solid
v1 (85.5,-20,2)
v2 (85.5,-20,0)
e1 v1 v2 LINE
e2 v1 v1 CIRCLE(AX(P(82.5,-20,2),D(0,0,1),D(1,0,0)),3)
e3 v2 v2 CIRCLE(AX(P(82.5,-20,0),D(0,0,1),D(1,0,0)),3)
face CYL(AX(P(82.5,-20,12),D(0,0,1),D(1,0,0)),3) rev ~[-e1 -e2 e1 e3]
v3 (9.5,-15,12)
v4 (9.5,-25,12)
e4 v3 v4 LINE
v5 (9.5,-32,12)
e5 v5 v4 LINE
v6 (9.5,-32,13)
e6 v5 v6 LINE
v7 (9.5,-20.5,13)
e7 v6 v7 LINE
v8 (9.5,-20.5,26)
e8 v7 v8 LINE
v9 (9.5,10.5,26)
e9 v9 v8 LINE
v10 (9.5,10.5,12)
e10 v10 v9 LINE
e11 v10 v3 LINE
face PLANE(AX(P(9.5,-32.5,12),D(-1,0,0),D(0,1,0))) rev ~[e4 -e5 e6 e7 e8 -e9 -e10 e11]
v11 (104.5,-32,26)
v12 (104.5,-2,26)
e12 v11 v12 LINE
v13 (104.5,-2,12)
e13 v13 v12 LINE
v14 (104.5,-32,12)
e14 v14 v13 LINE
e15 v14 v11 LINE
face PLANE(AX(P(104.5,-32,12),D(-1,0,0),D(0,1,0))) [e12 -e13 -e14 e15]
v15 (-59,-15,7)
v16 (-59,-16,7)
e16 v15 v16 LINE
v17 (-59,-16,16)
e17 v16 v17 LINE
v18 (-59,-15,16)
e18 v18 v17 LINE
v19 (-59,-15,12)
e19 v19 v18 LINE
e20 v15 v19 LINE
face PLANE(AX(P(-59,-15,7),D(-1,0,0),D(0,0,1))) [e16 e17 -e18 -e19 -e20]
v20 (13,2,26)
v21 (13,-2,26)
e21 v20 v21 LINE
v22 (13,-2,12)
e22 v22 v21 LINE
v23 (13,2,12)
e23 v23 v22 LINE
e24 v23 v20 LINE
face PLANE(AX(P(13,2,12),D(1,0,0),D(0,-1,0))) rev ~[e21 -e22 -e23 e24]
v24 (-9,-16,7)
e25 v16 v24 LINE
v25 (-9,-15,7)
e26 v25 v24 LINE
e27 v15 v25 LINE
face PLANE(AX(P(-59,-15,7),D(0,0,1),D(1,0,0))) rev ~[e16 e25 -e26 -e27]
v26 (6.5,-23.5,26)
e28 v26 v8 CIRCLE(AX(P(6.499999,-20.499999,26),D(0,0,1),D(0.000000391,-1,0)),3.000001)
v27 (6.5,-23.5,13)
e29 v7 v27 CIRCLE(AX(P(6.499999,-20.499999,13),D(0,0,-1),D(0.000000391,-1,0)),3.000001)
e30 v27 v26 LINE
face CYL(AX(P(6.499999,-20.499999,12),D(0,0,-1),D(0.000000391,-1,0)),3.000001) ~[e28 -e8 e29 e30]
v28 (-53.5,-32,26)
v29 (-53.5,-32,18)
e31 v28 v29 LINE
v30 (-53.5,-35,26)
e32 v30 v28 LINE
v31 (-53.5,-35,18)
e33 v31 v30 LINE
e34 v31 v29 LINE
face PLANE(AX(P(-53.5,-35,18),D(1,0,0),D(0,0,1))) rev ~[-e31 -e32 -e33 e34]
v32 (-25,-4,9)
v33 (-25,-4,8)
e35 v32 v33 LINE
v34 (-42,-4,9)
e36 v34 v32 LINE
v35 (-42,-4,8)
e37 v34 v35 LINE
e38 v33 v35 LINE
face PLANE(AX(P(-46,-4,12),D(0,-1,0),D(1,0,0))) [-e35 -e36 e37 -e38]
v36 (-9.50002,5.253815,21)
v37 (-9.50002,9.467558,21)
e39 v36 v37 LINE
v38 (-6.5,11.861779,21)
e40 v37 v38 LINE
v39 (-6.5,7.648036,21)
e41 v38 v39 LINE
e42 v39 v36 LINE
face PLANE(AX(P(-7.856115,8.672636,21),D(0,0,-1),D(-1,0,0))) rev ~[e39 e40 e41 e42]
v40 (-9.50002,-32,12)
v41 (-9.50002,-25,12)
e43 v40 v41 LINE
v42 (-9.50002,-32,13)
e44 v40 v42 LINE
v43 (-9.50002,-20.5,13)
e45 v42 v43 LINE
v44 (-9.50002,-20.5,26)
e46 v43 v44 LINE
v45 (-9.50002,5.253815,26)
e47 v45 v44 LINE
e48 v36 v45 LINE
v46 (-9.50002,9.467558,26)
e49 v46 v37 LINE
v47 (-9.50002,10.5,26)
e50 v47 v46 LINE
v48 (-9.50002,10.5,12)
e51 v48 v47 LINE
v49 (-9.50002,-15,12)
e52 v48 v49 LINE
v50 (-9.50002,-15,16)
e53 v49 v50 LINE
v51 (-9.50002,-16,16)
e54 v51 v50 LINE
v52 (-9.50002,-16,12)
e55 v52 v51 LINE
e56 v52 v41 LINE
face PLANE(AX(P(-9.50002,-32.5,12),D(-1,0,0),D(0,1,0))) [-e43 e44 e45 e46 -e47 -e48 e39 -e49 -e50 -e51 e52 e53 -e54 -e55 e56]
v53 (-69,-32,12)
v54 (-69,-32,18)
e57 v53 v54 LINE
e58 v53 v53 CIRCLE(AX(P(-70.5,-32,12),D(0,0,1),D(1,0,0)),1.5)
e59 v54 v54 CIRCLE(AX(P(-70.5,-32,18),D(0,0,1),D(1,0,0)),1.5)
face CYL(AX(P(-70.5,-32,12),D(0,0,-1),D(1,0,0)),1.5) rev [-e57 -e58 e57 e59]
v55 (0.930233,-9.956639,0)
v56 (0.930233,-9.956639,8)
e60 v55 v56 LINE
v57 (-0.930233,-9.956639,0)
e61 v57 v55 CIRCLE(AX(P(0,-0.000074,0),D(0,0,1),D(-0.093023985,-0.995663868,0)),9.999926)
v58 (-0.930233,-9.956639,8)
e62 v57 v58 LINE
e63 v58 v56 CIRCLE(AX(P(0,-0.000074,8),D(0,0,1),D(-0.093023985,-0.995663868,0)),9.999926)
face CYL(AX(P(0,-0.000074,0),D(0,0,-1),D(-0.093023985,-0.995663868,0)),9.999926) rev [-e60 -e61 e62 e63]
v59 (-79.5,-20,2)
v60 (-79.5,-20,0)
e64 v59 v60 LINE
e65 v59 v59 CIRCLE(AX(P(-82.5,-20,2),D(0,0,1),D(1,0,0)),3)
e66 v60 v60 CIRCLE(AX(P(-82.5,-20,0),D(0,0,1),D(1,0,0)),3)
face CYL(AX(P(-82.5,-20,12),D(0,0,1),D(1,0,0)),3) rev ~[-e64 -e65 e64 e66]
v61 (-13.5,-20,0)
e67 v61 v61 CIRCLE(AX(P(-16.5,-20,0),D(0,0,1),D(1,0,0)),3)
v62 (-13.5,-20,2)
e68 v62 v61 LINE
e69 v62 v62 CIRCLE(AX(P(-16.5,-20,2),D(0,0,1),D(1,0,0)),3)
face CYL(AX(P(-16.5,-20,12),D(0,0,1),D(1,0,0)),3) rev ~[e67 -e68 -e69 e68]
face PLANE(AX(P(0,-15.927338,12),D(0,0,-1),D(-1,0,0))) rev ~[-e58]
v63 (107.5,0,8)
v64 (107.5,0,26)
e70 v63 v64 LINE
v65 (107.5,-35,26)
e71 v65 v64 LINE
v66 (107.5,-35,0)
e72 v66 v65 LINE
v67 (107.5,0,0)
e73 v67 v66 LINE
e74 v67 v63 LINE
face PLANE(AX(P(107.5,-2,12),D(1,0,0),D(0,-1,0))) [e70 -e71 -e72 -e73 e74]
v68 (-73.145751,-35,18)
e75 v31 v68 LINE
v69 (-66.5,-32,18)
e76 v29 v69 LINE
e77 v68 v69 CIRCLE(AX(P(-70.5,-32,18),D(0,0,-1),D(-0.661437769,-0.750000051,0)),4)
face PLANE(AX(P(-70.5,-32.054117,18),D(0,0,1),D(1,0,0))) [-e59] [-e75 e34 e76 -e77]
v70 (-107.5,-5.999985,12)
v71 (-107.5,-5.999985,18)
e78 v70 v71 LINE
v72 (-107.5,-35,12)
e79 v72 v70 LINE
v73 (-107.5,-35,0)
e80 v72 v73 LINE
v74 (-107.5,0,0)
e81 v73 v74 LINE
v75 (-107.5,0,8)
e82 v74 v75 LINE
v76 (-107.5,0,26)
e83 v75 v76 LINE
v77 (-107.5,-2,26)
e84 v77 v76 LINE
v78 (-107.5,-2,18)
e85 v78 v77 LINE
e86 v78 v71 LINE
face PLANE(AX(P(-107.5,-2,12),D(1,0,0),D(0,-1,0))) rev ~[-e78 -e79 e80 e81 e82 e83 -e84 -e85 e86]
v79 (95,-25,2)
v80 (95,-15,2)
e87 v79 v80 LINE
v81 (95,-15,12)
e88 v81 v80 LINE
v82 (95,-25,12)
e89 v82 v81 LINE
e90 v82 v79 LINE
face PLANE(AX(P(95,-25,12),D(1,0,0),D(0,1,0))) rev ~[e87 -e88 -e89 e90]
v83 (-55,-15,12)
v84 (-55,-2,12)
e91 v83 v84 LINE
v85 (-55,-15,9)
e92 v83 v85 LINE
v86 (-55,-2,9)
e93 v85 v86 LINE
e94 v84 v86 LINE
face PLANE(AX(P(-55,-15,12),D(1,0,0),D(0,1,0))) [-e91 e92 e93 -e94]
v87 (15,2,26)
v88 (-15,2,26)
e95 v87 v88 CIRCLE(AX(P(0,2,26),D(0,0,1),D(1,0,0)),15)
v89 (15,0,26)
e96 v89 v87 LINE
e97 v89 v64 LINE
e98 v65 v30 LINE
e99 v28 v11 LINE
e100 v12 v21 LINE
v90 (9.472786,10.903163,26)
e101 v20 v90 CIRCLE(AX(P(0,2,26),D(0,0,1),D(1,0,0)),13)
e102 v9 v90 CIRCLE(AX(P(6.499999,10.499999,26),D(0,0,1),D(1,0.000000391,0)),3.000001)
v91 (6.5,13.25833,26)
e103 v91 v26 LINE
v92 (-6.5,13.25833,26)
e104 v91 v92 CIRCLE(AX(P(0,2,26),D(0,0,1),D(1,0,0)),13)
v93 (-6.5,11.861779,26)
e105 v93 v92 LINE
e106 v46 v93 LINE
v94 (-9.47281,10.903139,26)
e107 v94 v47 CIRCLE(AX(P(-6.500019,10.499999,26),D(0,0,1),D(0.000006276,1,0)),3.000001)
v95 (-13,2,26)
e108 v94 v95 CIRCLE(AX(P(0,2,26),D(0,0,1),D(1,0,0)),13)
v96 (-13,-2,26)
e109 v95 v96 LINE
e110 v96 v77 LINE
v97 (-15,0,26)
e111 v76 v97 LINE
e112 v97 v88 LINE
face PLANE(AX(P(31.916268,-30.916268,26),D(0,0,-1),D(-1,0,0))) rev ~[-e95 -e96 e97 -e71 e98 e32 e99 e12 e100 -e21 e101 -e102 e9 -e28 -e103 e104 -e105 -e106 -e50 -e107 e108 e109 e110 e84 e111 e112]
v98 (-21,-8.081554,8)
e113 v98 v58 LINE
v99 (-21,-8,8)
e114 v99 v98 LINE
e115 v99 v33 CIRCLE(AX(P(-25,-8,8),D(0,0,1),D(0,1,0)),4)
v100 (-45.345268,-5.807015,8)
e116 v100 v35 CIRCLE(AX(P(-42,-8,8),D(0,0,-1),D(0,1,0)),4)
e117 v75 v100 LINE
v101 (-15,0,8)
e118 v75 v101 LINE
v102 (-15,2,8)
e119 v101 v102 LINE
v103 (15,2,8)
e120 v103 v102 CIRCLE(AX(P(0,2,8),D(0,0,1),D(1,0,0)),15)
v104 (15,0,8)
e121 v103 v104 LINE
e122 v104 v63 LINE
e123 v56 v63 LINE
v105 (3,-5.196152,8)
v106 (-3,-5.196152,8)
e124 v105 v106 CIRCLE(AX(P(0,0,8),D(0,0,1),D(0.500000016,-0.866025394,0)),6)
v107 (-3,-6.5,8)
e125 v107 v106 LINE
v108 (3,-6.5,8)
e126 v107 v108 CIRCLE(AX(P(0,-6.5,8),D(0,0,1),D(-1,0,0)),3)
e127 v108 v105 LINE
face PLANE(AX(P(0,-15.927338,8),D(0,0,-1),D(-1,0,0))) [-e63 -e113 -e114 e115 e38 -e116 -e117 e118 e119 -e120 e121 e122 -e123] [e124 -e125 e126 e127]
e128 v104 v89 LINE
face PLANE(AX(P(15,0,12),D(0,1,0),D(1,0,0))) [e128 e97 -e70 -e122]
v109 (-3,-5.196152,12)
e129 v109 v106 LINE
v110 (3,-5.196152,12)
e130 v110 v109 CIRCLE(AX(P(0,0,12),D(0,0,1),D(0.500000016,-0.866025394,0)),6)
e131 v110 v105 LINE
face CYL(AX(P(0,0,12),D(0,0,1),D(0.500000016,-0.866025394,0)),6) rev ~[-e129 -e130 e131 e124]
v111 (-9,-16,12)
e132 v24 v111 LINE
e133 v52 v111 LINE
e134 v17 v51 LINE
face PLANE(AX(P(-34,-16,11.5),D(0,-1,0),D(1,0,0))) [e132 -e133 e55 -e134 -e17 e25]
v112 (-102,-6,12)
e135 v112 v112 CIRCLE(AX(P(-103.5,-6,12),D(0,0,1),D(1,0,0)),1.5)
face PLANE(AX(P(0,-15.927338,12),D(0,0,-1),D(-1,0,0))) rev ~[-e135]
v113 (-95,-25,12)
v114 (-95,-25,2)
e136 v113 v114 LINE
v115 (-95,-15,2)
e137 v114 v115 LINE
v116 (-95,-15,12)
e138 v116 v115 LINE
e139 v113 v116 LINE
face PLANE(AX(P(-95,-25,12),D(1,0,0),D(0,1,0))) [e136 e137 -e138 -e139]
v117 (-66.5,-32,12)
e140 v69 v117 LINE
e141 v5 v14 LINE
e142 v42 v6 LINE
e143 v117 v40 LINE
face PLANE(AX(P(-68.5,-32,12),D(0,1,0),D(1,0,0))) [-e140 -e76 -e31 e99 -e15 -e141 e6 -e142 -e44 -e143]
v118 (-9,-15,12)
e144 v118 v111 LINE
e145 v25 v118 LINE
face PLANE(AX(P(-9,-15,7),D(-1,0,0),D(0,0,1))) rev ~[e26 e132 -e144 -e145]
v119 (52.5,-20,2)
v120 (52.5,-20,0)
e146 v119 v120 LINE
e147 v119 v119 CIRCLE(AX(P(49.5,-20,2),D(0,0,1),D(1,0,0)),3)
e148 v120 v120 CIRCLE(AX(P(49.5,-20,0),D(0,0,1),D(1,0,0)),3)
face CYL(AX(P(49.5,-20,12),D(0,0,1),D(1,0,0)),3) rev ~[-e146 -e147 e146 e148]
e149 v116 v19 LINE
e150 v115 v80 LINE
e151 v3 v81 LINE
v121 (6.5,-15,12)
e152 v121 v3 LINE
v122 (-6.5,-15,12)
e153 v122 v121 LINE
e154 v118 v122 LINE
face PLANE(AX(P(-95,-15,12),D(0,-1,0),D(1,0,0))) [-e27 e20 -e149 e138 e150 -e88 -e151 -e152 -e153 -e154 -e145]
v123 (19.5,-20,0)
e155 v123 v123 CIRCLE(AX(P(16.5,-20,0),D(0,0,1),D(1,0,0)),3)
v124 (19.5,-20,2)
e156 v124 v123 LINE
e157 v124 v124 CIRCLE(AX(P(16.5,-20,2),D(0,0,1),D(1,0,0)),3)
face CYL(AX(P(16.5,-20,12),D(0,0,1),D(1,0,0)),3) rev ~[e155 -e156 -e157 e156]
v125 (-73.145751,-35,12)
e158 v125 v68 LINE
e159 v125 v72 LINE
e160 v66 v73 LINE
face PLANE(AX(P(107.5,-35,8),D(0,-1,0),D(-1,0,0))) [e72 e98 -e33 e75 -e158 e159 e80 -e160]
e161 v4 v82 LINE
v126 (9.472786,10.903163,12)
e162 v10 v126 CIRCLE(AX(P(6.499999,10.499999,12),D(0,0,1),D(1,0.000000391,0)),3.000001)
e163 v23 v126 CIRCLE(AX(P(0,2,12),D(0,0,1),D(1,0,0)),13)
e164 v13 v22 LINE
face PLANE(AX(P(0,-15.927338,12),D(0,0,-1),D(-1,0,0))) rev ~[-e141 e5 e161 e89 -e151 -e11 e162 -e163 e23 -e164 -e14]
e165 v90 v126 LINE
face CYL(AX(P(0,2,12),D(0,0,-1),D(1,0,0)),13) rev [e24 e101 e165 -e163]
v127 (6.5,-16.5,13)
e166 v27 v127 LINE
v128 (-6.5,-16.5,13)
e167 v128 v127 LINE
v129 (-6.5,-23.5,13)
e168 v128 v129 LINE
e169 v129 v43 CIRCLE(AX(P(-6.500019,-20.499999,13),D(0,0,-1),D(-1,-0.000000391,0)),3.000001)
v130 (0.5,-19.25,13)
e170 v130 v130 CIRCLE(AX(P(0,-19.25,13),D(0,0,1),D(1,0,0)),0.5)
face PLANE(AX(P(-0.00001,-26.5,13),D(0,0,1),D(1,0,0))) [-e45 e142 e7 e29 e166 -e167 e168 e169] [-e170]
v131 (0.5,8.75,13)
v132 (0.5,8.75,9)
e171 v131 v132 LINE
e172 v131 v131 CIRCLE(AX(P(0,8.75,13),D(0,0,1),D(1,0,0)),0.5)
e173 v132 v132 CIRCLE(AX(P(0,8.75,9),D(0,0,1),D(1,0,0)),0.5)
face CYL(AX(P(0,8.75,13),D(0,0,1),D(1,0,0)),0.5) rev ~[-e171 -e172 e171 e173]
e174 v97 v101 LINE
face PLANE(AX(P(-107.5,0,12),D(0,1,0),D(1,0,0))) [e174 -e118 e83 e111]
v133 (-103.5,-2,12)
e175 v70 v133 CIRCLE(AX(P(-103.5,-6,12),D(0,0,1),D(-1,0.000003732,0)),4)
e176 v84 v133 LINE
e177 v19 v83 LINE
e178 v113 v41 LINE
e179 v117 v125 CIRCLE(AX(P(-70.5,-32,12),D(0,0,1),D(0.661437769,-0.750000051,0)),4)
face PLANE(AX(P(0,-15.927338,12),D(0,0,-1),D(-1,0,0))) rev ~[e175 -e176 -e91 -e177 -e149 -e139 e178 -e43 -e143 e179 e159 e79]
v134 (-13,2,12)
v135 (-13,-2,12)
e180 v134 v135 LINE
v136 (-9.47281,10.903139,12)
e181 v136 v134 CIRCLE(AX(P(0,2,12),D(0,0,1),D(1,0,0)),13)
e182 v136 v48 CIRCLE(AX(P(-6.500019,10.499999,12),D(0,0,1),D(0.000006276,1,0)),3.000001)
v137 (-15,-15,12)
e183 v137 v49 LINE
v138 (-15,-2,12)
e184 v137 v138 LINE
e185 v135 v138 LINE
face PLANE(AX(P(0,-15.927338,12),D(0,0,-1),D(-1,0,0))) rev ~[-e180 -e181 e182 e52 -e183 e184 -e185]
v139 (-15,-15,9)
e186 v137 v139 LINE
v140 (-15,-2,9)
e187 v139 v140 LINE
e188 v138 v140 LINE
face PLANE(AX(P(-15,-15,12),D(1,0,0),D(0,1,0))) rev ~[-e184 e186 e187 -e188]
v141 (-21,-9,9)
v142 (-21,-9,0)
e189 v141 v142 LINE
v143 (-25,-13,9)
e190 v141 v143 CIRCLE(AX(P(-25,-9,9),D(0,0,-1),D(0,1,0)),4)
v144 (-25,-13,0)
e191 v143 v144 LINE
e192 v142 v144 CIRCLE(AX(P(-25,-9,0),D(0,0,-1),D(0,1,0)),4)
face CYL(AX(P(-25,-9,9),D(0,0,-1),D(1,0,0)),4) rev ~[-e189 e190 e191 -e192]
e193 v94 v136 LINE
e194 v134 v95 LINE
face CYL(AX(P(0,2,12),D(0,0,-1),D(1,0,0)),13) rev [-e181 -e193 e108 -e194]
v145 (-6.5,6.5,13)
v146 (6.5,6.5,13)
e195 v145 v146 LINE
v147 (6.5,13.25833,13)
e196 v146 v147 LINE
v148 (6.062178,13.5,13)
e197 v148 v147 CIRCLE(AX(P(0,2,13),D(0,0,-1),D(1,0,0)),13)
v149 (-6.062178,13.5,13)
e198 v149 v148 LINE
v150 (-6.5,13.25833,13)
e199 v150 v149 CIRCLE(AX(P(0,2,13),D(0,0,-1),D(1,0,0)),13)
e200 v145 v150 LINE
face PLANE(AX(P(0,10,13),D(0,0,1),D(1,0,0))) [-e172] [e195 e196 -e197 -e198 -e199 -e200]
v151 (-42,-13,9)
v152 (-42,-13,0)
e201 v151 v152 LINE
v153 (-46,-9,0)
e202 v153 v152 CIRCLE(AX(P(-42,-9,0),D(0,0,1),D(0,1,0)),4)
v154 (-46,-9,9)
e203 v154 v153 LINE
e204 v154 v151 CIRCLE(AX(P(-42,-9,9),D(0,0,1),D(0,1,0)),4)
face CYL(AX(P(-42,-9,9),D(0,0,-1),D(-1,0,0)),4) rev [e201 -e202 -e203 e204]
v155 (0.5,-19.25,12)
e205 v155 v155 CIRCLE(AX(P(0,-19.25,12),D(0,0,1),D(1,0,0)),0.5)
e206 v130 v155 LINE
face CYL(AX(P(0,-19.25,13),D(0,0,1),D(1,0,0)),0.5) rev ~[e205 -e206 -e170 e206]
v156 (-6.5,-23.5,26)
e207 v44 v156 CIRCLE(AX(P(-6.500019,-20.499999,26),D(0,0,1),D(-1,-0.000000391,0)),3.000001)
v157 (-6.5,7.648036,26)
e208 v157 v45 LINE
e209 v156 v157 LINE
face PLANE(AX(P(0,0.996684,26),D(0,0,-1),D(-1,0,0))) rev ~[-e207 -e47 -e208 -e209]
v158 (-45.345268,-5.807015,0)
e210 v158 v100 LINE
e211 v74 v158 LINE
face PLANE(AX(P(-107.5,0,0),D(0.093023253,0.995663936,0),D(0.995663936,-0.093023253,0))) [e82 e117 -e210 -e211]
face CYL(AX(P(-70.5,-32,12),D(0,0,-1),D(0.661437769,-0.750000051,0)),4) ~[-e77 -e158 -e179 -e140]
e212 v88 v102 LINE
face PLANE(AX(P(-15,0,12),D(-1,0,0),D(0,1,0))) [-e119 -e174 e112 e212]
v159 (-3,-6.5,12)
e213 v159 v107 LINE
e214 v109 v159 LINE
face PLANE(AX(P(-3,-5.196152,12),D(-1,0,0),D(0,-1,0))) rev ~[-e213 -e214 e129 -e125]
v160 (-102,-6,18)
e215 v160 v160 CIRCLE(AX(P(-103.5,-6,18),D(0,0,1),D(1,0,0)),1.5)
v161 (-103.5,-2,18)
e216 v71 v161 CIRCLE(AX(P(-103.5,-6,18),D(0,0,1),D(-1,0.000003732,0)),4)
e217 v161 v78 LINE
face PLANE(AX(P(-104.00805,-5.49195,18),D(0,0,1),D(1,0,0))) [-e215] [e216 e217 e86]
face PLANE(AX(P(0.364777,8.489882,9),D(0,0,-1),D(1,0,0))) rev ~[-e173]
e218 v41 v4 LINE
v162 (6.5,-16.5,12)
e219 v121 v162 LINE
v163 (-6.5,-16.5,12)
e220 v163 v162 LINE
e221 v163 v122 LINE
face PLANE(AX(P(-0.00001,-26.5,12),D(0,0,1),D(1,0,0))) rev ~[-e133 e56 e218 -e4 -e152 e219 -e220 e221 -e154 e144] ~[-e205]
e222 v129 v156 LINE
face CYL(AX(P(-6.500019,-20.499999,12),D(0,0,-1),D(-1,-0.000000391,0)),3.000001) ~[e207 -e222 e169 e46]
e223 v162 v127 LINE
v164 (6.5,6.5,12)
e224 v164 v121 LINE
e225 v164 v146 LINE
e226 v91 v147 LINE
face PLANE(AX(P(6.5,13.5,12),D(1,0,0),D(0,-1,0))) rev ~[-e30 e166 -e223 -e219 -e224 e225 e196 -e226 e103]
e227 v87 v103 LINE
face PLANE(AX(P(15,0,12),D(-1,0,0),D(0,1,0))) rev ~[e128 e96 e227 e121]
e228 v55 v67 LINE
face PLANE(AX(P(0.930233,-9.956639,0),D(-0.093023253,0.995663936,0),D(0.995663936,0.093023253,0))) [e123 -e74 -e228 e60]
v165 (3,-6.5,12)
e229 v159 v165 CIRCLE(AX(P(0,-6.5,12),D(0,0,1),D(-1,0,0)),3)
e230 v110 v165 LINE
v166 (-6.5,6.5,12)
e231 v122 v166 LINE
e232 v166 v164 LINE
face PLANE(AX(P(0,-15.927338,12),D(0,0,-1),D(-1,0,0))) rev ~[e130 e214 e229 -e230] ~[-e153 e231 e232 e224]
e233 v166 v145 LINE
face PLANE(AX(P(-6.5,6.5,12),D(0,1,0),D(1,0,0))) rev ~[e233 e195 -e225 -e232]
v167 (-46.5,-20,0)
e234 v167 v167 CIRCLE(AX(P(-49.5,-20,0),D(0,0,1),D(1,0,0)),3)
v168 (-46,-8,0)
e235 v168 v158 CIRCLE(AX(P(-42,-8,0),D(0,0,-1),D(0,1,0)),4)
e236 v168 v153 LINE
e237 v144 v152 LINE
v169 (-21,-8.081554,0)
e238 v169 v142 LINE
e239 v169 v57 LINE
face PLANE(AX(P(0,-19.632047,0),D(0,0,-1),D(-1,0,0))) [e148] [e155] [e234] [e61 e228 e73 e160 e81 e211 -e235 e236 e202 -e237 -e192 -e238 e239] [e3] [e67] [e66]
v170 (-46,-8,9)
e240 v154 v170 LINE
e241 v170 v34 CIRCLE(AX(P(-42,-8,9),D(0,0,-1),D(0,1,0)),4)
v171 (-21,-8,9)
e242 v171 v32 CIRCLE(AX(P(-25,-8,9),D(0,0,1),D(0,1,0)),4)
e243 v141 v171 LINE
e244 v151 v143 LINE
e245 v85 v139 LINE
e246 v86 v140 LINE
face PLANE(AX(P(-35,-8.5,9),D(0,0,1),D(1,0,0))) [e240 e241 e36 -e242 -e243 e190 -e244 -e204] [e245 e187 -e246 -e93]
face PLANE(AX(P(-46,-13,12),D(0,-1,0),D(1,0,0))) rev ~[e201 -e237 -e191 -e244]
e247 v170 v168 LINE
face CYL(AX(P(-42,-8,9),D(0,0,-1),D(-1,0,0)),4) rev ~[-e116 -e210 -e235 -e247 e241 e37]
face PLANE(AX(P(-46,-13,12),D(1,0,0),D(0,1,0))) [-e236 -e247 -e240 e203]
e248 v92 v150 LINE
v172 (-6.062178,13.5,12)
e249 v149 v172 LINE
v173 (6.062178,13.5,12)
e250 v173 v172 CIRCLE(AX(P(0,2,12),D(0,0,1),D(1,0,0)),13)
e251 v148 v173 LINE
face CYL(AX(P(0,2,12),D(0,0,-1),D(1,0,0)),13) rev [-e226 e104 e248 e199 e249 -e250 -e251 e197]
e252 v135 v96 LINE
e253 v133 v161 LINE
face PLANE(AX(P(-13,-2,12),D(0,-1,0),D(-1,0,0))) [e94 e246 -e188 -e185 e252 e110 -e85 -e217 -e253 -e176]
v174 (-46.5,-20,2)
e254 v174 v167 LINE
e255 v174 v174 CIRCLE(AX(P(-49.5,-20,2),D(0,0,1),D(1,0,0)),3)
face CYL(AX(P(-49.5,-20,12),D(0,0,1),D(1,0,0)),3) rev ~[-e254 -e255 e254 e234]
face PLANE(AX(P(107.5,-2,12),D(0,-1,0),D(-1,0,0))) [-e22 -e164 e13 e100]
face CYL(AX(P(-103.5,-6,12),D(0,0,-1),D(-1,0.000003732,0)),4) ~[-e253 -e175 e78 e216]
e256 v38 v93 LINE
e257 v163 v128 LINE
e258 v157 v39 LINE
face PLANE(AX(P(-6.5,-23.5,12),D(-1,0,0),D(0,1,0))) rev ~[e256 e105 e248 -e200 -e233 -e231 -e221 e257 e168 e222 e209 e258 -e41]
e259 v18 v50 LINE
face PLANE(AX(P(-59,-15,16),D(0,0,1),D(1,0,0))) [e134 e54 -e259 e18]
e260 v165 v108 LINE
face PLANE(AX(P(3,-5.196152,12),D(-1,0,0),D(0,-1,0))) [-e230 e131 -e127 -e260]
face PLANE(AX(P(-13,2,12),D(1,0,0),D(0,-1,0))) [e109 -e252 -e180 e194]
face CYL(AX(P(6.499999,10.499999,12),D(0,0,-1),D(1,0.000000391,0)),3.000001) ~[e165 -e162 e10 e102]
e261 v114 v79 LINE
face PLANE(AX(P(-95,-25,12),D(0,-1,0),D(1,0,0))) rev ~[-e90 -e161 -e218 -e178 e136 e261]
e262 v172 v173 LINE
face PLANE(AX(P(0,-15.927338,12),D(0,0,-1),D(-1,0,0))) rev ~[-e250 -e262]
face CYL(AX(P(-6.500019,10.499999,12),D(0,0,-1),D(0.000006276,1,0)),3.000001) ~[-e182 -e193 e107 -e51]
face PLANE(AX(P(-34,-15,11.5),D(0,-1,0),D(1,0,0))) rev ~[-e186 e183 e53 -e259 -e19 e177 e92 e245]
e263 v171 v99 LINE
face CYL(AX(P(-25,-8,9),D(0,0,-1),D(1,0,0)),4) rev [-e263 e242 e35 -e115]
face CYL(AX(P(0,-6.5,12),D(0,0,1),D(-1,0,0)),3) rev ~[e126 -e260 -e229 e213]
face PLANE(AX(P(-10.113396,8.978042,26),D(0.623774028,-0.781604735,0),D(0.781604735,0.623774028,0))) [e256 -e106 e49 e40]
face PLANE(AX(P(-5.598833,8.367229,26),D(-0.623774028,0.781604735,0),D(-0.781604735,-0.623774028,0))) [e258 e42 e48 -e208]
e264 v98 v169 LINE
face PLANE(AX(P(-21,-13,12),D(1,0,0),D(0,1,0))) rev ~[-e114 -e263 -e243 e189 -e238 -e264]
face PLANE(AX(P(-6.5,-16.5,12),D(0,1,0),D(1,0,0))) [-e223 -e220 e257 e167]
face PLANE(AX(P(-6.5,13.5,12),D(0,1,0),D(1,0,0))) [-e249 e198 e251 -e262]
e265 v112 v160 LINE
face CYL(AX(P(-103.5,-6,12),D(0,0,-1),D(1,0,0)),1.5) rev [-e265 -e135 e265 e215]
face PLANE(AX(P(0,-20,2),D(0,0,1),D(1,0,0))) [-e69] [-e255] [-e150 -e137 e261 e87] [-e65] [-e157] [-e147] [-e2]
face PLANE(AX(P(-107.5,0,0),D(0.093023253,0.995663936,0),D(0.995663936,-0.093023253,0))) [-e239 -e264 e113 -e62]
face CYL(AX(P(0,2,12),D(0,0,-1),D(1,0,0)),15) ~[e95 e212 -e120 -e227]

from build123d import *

# Parameters (mm, degrees)
PAD_DEPTH       = 8
PAD001_DEPTH    = 4
POCKET_DEPTH    = 5
SKETCH003_W     = 13
SKETCH003_H     = 7
PAD002_DEPTH    = 1
SKETCH004_R     = 0.5
POCKET001_DEPTH = 13.001
PAD003_DEPTH    = 14
PAD004_DEPTH    = 14
SKETCH007_R     = 1.5
PAD005_DEPTH    = 6
POCKET002_DEPTH = 5
SKETCH009_R     = 3
POCKET003_DEPTH = 15
SKETCH010_W     = 190
SKETCH010_H     = 10
POCKET004_DEPTH = 10
SKETCH011_W     = 40
SKETCH011_H     = 13
POCKET005_DEPTH = 3
PAD006_DEPTH    = 14
SKETCH014_W     = 25
SKETCH014_H     = 9
POCKET006_DEPTH = 15
SKETCH015_W     = 19.00002
SKETCH015_H     = 12
PAD007_DEPTH    = 1
SKETCH016_W     = 50
SKETCH016_H     = 9
PAD008_DEPTH    = 1
SKETCH017_W     = 3.141787
SKETCH017_H     = 1.901607
PAD009_DEPTH    = 2
SKETCH018_W     = 15
SKETCH018_H     = 8
POCKET007_DEPTH = 5
SKETCH019_W     = 4.140358
SKETCH019_H     = 3.938392
PAD010_DEPTH    = 1
FILLET_R        = 4


with BuildPart() as part:
    # Sketch → Pad (new body)
    with BuildSketch(Plane.XY):
        with BuildLine():
            Line((107.5, 0), (107.5, -35))
            Line((107.5, -35), (-107.5, -35))
            Line((-107.5, -35), (-107.5, 0))
            Line((-107.5, 0), (-0.930233, -9.956639))
            ThreePointArc((-0.930233, -9.956639), (0, -10), (0.930233, -9.956639))
            Line((0.930233, -9.956639), (107.5, 0))
        make_face()
    extrude(amount=PAD_DEPTH)

    # Sketch001 (on Face8 of Pad) → Pad001 (join)
    with BuildSketch(Plane.XY.offset(8)):
        with BuildLine():
            Line((107.5, 0), (107.5, -35))
            Line((107.5, -35), (-107.5, -35))
            Line((-107.5, -35), (-107.5, 0))
            Line((-107.5, 0), (-15, 0))
            Line((-15, 0), (-15, 2))
            ThreePointArc((15, 2), (0, 17), (-15, 2))
            Line((15, 2), (15, 0))
            Line((15, 0), (107.5, 0))
        make_face()
    extrude(amount=PAD001_DEPTH)

    # Sketch002 (on Face12 of Pad001) → Pocket (cut)
    with BuildSketch(Plane.XY.offset(12)):
        with BuildLine():
            ThreePointArc((3, -5.196152), (0, 6), (-3, -5.196152))
            Line((-3, -5.196152), (-3, -6.5))
            ThreePointArc((-3, -6.5), (0, -9.5), (3, -6.5))
            Line((3, -5.196152), (3, -6.5))
        make_face()
    extrude(amount=-POCKET_DEPTH, mode=Mode.SUBTRACT)

    # Sketch003 (on Face12 of Pocket) → Pad002 (join)
    with BuildSketch(Plane.XY.offset(12)):
        with Locations((0, 10)):
            Rectangle(SKETCH003_W, SKETCH003_H)
        with Locations((0, -20)):
            Rectangle(SKETCH003_W, SKETCH003_H)
    extrude(amount=PAD002_DEPTH)

    # Sketch004 (on Face31 of Pad002) → Pocket001 (cut, through all)
    with BuildSketch(Plane.XY.offset(13)):
        with Locations((0, 8.75)):
            Circle(SKETCH004_R)
        with Locations((0, -19.25)):
            Circle(SKETCH004_R)
    extrude(amount=-POCKET001_DEPTH, mode=Mode.SUBTRACT)

    # Sketch005 (on Face13 of Pocket001) → Pad003 (join)
    with BuildSketch(Plane.XY.offset(12)):
        with BuildLine():
            ThreePointArc((-6.5, 13.5), (-8.621333, 12.621327), (-9.50002, 10.5))
            Line((-9.50002, 10.5), (-9.50002, -20.5))
            ThreePointArc((-9.50002, -20.5), (-8.621333, -22.621327), (-6.5, -23.5))
            Line((-6.5, -23.5), (-6.5, 13.5))
        make_face()
        with BuildLine():
            ThreePointArc((6.5, -23.5), (8.62132, -22.62132), (9.5, -20.5))
            Line((9.5, 10.5), (9.5, -20.5))
            ThreePointArc((9.5, 10.5), (8.62132, 12.62132), (6.5, 13.5))
            Line((6.5, 13.5), (6.5, -23.5))
        make_face()
    extrude(amount=PAD003_DEPTH)

    # Sketch006 (on Face13 of Pad003) → Pad004 (join)
    with BuildSketch(Plane.XY.offset(12)):
        with BuildLine():
            Line((-107.5, 0), (-15, 0))
            Line((-15, 0), (-15, 2))
            ThreePointArc((15, 2), (0, 17), (-15, 2))
            Line((15, 0), (15, 2))
            Line((15, 0), (107.5, 0))
            Line((107.5, 0), (107.5, -2))
            Line((107.5, -2), (13, -2))
            Line((13, 2), (13, -2))
            ThreePointArc((13, 2), (0, 15), (-13, 2))
            Line((-13, 2), (-13, -2))
            Line((-13, -2), (-107.5, -2))
            Line((-107.5, -2), (-107.5, 0))
        make_face()
    extrude(amount=PAD004_DEPTH)

    # Sketch007 (on Face14 of Pad004) → Pad005 (join)
    with BuildSketch(Plane.XY.offset(12)):
        with BuildLine():
            ThreePointArc((-107.5, -5.999985), (-100.671578, -8.828432), (-103.5, -2))
            Line((-103.5, -2), (-107.5, -2))
            Line((-107.5, -2), (-107.5, -5.999985))
        make_face()
        with Locations((-103.5, -6)):
            Circle(SKETCH007_R, mode=Mode.SUBTRACT)
        with BuildLine():
            ThreePointArc((-67.854249, -35), (-70.5, -28), (-73.145751, -35))
            Line((-73.145751, -35), (-67.854249, -35))
        make_face()
        with Locations((-70.5, -32)):
            Circle(SKETCH007_R, mode=Mode.SUBTRACT)
    extrude(amount=PAD005_DEPTH)

    # Sketch008 (on Face60 of Pad005) → Pocket002 (cut)
    with BuildSketch(Plane.XY.offset(26)):
        Polygon((-10.113396, 8.978042), (-5.598833, 12.580972), (-5.598833, 8.367229), (-10.113396, 4.764299), align=None)
    extrude(amount=-POCKET002_DEPTH, mode=Mode.SUBTRACT)

    # Sketch009 (on Face14 of Pocket002) → Pocket003 (cut)
    with BuildSketch(Plane.XY.offset(12)):
        with Locations((-82.5, -20)):
            Circle(SKETCH009_R)
        with Locations((-49.5, -20)):
            Circle(SKETCH009_R)
        with Locations((-16.5, -20)):
            Circle(SKETCH009_R)
        with Locations((16.5, -20)):
            Circle(SKETCH009_R)
        with Locations((49.5, -20)):
            Circle(SKETCH009_R)
        with Locations((82.5, -20)):
            Circle(SKETCH009_R)
    extrude(amount=-POCKET003_DEPTH, mode=Mode.SUBTRACT)

    # Sketch010 (on Face20 of Pocket003) → Pocket004 (cut)
    with BuildSketch(Plane.XY.offset(12)):
        with Locations((0, -20)):
            Rectangle(SKETCH010_W, SKETCH010_H)
    extrude(amount=-POCKET004_DEPTH, mode=Mode.SUBTRACT)

    # Sketch011 (on Face20 of Pocket004) → Pocket005 (cut)
    with BuildSketch(Plane.XY.offset(12)):
        with Locations((-35, -8.5)):
            Rectangle(SKETCH011_W, SKETCH011_H)
    extrude(amount=-POCKET005_DEPTH, mode=Mode.SUBTRACT)

    # Sketch013 → Pad006 (join)
    with BuildSketch(Plane.XY.offset(12)):
        Polygon((104.5, -2), (107.5, -2), (107.5, -35), (-68.5, -35), (-68.5, -32), (104.5, -32), align=None)
    extrude(amount=PAD006_DEPTH)

    # Sketch014 (on Face20 of Pocket005) → Pocket006 (cut)
    with BuildSketch(Plane.XY.offset(12)):
        with Locations((-33.5, -8.5)):
            Rectangle(SKETCH014_W, SKETCH014_H)
    extrude(amount=-POCKET006_DEPTH, mode=Mode.SUBTRACT)

    # Sketch015 → Pad007 (join)
    with BuildSketch(Plane.XY.offset(12)):
        with Locations((-1e-05, -26.5)):
            Rectangle(SKETCH015_W, SKETCH015_H)
    extrude(amount=PAD007_DEPTH)

    # Sketch016 → Pad008 (join)
    with BuildSketch(Plane.XZ.offset(15)):
        with Locations((-34, 11.5)):
            Rectangle(SKETCH016_W, SKETCH016_H)
    extrude(amount=PAD008_DEPTH)

    # Sketch017 → Pad009 (join)
    with BuildSketch(Plane.XY):
        with Locations((0.426476, -19.263597)):
            Rectangle(SKETCH017_W, SKETCH017_H)
    extrude(amount=PAD009_DEPTH)

    # Sketch018 (on Face36 of Pad009) → Pocket007 (cut)
    with BuildSketch(Plane.XZ.offset(35)):
        with Locations((-61, 22)):
            Rectangle(SKETCH018_W, SKETCH018_H)
    extrude(amount=-POCKET007_DEPTH, mode=Mode.SUBTRACT)

    # Sketch019 (on Face7 of Pocket007) → Pad010 (join)
    with BuildSketch(Plane(origin=(0, 0, 8), x_dir=(1, 0, 0), z_dir=(0, 0, -1))):
        with Locations((0.364777, -8.489882)):
            Rectangle(SKETCH019_W, SKETCH019_H)
    extrude(amount=-PAD010_DEPTH)

    # Fillet
    fillet_edges = [part.edges().sort_by_distance(p)[0] for p in [
        (-46, -13, 4.5),
        (-21, -13, 4.5),
        (-21, -4, 8.5),
        (-46, -4, 8.5),
    ]]
    fillet(fillet_edges, radius=FILLET_R)


solid = part.part
